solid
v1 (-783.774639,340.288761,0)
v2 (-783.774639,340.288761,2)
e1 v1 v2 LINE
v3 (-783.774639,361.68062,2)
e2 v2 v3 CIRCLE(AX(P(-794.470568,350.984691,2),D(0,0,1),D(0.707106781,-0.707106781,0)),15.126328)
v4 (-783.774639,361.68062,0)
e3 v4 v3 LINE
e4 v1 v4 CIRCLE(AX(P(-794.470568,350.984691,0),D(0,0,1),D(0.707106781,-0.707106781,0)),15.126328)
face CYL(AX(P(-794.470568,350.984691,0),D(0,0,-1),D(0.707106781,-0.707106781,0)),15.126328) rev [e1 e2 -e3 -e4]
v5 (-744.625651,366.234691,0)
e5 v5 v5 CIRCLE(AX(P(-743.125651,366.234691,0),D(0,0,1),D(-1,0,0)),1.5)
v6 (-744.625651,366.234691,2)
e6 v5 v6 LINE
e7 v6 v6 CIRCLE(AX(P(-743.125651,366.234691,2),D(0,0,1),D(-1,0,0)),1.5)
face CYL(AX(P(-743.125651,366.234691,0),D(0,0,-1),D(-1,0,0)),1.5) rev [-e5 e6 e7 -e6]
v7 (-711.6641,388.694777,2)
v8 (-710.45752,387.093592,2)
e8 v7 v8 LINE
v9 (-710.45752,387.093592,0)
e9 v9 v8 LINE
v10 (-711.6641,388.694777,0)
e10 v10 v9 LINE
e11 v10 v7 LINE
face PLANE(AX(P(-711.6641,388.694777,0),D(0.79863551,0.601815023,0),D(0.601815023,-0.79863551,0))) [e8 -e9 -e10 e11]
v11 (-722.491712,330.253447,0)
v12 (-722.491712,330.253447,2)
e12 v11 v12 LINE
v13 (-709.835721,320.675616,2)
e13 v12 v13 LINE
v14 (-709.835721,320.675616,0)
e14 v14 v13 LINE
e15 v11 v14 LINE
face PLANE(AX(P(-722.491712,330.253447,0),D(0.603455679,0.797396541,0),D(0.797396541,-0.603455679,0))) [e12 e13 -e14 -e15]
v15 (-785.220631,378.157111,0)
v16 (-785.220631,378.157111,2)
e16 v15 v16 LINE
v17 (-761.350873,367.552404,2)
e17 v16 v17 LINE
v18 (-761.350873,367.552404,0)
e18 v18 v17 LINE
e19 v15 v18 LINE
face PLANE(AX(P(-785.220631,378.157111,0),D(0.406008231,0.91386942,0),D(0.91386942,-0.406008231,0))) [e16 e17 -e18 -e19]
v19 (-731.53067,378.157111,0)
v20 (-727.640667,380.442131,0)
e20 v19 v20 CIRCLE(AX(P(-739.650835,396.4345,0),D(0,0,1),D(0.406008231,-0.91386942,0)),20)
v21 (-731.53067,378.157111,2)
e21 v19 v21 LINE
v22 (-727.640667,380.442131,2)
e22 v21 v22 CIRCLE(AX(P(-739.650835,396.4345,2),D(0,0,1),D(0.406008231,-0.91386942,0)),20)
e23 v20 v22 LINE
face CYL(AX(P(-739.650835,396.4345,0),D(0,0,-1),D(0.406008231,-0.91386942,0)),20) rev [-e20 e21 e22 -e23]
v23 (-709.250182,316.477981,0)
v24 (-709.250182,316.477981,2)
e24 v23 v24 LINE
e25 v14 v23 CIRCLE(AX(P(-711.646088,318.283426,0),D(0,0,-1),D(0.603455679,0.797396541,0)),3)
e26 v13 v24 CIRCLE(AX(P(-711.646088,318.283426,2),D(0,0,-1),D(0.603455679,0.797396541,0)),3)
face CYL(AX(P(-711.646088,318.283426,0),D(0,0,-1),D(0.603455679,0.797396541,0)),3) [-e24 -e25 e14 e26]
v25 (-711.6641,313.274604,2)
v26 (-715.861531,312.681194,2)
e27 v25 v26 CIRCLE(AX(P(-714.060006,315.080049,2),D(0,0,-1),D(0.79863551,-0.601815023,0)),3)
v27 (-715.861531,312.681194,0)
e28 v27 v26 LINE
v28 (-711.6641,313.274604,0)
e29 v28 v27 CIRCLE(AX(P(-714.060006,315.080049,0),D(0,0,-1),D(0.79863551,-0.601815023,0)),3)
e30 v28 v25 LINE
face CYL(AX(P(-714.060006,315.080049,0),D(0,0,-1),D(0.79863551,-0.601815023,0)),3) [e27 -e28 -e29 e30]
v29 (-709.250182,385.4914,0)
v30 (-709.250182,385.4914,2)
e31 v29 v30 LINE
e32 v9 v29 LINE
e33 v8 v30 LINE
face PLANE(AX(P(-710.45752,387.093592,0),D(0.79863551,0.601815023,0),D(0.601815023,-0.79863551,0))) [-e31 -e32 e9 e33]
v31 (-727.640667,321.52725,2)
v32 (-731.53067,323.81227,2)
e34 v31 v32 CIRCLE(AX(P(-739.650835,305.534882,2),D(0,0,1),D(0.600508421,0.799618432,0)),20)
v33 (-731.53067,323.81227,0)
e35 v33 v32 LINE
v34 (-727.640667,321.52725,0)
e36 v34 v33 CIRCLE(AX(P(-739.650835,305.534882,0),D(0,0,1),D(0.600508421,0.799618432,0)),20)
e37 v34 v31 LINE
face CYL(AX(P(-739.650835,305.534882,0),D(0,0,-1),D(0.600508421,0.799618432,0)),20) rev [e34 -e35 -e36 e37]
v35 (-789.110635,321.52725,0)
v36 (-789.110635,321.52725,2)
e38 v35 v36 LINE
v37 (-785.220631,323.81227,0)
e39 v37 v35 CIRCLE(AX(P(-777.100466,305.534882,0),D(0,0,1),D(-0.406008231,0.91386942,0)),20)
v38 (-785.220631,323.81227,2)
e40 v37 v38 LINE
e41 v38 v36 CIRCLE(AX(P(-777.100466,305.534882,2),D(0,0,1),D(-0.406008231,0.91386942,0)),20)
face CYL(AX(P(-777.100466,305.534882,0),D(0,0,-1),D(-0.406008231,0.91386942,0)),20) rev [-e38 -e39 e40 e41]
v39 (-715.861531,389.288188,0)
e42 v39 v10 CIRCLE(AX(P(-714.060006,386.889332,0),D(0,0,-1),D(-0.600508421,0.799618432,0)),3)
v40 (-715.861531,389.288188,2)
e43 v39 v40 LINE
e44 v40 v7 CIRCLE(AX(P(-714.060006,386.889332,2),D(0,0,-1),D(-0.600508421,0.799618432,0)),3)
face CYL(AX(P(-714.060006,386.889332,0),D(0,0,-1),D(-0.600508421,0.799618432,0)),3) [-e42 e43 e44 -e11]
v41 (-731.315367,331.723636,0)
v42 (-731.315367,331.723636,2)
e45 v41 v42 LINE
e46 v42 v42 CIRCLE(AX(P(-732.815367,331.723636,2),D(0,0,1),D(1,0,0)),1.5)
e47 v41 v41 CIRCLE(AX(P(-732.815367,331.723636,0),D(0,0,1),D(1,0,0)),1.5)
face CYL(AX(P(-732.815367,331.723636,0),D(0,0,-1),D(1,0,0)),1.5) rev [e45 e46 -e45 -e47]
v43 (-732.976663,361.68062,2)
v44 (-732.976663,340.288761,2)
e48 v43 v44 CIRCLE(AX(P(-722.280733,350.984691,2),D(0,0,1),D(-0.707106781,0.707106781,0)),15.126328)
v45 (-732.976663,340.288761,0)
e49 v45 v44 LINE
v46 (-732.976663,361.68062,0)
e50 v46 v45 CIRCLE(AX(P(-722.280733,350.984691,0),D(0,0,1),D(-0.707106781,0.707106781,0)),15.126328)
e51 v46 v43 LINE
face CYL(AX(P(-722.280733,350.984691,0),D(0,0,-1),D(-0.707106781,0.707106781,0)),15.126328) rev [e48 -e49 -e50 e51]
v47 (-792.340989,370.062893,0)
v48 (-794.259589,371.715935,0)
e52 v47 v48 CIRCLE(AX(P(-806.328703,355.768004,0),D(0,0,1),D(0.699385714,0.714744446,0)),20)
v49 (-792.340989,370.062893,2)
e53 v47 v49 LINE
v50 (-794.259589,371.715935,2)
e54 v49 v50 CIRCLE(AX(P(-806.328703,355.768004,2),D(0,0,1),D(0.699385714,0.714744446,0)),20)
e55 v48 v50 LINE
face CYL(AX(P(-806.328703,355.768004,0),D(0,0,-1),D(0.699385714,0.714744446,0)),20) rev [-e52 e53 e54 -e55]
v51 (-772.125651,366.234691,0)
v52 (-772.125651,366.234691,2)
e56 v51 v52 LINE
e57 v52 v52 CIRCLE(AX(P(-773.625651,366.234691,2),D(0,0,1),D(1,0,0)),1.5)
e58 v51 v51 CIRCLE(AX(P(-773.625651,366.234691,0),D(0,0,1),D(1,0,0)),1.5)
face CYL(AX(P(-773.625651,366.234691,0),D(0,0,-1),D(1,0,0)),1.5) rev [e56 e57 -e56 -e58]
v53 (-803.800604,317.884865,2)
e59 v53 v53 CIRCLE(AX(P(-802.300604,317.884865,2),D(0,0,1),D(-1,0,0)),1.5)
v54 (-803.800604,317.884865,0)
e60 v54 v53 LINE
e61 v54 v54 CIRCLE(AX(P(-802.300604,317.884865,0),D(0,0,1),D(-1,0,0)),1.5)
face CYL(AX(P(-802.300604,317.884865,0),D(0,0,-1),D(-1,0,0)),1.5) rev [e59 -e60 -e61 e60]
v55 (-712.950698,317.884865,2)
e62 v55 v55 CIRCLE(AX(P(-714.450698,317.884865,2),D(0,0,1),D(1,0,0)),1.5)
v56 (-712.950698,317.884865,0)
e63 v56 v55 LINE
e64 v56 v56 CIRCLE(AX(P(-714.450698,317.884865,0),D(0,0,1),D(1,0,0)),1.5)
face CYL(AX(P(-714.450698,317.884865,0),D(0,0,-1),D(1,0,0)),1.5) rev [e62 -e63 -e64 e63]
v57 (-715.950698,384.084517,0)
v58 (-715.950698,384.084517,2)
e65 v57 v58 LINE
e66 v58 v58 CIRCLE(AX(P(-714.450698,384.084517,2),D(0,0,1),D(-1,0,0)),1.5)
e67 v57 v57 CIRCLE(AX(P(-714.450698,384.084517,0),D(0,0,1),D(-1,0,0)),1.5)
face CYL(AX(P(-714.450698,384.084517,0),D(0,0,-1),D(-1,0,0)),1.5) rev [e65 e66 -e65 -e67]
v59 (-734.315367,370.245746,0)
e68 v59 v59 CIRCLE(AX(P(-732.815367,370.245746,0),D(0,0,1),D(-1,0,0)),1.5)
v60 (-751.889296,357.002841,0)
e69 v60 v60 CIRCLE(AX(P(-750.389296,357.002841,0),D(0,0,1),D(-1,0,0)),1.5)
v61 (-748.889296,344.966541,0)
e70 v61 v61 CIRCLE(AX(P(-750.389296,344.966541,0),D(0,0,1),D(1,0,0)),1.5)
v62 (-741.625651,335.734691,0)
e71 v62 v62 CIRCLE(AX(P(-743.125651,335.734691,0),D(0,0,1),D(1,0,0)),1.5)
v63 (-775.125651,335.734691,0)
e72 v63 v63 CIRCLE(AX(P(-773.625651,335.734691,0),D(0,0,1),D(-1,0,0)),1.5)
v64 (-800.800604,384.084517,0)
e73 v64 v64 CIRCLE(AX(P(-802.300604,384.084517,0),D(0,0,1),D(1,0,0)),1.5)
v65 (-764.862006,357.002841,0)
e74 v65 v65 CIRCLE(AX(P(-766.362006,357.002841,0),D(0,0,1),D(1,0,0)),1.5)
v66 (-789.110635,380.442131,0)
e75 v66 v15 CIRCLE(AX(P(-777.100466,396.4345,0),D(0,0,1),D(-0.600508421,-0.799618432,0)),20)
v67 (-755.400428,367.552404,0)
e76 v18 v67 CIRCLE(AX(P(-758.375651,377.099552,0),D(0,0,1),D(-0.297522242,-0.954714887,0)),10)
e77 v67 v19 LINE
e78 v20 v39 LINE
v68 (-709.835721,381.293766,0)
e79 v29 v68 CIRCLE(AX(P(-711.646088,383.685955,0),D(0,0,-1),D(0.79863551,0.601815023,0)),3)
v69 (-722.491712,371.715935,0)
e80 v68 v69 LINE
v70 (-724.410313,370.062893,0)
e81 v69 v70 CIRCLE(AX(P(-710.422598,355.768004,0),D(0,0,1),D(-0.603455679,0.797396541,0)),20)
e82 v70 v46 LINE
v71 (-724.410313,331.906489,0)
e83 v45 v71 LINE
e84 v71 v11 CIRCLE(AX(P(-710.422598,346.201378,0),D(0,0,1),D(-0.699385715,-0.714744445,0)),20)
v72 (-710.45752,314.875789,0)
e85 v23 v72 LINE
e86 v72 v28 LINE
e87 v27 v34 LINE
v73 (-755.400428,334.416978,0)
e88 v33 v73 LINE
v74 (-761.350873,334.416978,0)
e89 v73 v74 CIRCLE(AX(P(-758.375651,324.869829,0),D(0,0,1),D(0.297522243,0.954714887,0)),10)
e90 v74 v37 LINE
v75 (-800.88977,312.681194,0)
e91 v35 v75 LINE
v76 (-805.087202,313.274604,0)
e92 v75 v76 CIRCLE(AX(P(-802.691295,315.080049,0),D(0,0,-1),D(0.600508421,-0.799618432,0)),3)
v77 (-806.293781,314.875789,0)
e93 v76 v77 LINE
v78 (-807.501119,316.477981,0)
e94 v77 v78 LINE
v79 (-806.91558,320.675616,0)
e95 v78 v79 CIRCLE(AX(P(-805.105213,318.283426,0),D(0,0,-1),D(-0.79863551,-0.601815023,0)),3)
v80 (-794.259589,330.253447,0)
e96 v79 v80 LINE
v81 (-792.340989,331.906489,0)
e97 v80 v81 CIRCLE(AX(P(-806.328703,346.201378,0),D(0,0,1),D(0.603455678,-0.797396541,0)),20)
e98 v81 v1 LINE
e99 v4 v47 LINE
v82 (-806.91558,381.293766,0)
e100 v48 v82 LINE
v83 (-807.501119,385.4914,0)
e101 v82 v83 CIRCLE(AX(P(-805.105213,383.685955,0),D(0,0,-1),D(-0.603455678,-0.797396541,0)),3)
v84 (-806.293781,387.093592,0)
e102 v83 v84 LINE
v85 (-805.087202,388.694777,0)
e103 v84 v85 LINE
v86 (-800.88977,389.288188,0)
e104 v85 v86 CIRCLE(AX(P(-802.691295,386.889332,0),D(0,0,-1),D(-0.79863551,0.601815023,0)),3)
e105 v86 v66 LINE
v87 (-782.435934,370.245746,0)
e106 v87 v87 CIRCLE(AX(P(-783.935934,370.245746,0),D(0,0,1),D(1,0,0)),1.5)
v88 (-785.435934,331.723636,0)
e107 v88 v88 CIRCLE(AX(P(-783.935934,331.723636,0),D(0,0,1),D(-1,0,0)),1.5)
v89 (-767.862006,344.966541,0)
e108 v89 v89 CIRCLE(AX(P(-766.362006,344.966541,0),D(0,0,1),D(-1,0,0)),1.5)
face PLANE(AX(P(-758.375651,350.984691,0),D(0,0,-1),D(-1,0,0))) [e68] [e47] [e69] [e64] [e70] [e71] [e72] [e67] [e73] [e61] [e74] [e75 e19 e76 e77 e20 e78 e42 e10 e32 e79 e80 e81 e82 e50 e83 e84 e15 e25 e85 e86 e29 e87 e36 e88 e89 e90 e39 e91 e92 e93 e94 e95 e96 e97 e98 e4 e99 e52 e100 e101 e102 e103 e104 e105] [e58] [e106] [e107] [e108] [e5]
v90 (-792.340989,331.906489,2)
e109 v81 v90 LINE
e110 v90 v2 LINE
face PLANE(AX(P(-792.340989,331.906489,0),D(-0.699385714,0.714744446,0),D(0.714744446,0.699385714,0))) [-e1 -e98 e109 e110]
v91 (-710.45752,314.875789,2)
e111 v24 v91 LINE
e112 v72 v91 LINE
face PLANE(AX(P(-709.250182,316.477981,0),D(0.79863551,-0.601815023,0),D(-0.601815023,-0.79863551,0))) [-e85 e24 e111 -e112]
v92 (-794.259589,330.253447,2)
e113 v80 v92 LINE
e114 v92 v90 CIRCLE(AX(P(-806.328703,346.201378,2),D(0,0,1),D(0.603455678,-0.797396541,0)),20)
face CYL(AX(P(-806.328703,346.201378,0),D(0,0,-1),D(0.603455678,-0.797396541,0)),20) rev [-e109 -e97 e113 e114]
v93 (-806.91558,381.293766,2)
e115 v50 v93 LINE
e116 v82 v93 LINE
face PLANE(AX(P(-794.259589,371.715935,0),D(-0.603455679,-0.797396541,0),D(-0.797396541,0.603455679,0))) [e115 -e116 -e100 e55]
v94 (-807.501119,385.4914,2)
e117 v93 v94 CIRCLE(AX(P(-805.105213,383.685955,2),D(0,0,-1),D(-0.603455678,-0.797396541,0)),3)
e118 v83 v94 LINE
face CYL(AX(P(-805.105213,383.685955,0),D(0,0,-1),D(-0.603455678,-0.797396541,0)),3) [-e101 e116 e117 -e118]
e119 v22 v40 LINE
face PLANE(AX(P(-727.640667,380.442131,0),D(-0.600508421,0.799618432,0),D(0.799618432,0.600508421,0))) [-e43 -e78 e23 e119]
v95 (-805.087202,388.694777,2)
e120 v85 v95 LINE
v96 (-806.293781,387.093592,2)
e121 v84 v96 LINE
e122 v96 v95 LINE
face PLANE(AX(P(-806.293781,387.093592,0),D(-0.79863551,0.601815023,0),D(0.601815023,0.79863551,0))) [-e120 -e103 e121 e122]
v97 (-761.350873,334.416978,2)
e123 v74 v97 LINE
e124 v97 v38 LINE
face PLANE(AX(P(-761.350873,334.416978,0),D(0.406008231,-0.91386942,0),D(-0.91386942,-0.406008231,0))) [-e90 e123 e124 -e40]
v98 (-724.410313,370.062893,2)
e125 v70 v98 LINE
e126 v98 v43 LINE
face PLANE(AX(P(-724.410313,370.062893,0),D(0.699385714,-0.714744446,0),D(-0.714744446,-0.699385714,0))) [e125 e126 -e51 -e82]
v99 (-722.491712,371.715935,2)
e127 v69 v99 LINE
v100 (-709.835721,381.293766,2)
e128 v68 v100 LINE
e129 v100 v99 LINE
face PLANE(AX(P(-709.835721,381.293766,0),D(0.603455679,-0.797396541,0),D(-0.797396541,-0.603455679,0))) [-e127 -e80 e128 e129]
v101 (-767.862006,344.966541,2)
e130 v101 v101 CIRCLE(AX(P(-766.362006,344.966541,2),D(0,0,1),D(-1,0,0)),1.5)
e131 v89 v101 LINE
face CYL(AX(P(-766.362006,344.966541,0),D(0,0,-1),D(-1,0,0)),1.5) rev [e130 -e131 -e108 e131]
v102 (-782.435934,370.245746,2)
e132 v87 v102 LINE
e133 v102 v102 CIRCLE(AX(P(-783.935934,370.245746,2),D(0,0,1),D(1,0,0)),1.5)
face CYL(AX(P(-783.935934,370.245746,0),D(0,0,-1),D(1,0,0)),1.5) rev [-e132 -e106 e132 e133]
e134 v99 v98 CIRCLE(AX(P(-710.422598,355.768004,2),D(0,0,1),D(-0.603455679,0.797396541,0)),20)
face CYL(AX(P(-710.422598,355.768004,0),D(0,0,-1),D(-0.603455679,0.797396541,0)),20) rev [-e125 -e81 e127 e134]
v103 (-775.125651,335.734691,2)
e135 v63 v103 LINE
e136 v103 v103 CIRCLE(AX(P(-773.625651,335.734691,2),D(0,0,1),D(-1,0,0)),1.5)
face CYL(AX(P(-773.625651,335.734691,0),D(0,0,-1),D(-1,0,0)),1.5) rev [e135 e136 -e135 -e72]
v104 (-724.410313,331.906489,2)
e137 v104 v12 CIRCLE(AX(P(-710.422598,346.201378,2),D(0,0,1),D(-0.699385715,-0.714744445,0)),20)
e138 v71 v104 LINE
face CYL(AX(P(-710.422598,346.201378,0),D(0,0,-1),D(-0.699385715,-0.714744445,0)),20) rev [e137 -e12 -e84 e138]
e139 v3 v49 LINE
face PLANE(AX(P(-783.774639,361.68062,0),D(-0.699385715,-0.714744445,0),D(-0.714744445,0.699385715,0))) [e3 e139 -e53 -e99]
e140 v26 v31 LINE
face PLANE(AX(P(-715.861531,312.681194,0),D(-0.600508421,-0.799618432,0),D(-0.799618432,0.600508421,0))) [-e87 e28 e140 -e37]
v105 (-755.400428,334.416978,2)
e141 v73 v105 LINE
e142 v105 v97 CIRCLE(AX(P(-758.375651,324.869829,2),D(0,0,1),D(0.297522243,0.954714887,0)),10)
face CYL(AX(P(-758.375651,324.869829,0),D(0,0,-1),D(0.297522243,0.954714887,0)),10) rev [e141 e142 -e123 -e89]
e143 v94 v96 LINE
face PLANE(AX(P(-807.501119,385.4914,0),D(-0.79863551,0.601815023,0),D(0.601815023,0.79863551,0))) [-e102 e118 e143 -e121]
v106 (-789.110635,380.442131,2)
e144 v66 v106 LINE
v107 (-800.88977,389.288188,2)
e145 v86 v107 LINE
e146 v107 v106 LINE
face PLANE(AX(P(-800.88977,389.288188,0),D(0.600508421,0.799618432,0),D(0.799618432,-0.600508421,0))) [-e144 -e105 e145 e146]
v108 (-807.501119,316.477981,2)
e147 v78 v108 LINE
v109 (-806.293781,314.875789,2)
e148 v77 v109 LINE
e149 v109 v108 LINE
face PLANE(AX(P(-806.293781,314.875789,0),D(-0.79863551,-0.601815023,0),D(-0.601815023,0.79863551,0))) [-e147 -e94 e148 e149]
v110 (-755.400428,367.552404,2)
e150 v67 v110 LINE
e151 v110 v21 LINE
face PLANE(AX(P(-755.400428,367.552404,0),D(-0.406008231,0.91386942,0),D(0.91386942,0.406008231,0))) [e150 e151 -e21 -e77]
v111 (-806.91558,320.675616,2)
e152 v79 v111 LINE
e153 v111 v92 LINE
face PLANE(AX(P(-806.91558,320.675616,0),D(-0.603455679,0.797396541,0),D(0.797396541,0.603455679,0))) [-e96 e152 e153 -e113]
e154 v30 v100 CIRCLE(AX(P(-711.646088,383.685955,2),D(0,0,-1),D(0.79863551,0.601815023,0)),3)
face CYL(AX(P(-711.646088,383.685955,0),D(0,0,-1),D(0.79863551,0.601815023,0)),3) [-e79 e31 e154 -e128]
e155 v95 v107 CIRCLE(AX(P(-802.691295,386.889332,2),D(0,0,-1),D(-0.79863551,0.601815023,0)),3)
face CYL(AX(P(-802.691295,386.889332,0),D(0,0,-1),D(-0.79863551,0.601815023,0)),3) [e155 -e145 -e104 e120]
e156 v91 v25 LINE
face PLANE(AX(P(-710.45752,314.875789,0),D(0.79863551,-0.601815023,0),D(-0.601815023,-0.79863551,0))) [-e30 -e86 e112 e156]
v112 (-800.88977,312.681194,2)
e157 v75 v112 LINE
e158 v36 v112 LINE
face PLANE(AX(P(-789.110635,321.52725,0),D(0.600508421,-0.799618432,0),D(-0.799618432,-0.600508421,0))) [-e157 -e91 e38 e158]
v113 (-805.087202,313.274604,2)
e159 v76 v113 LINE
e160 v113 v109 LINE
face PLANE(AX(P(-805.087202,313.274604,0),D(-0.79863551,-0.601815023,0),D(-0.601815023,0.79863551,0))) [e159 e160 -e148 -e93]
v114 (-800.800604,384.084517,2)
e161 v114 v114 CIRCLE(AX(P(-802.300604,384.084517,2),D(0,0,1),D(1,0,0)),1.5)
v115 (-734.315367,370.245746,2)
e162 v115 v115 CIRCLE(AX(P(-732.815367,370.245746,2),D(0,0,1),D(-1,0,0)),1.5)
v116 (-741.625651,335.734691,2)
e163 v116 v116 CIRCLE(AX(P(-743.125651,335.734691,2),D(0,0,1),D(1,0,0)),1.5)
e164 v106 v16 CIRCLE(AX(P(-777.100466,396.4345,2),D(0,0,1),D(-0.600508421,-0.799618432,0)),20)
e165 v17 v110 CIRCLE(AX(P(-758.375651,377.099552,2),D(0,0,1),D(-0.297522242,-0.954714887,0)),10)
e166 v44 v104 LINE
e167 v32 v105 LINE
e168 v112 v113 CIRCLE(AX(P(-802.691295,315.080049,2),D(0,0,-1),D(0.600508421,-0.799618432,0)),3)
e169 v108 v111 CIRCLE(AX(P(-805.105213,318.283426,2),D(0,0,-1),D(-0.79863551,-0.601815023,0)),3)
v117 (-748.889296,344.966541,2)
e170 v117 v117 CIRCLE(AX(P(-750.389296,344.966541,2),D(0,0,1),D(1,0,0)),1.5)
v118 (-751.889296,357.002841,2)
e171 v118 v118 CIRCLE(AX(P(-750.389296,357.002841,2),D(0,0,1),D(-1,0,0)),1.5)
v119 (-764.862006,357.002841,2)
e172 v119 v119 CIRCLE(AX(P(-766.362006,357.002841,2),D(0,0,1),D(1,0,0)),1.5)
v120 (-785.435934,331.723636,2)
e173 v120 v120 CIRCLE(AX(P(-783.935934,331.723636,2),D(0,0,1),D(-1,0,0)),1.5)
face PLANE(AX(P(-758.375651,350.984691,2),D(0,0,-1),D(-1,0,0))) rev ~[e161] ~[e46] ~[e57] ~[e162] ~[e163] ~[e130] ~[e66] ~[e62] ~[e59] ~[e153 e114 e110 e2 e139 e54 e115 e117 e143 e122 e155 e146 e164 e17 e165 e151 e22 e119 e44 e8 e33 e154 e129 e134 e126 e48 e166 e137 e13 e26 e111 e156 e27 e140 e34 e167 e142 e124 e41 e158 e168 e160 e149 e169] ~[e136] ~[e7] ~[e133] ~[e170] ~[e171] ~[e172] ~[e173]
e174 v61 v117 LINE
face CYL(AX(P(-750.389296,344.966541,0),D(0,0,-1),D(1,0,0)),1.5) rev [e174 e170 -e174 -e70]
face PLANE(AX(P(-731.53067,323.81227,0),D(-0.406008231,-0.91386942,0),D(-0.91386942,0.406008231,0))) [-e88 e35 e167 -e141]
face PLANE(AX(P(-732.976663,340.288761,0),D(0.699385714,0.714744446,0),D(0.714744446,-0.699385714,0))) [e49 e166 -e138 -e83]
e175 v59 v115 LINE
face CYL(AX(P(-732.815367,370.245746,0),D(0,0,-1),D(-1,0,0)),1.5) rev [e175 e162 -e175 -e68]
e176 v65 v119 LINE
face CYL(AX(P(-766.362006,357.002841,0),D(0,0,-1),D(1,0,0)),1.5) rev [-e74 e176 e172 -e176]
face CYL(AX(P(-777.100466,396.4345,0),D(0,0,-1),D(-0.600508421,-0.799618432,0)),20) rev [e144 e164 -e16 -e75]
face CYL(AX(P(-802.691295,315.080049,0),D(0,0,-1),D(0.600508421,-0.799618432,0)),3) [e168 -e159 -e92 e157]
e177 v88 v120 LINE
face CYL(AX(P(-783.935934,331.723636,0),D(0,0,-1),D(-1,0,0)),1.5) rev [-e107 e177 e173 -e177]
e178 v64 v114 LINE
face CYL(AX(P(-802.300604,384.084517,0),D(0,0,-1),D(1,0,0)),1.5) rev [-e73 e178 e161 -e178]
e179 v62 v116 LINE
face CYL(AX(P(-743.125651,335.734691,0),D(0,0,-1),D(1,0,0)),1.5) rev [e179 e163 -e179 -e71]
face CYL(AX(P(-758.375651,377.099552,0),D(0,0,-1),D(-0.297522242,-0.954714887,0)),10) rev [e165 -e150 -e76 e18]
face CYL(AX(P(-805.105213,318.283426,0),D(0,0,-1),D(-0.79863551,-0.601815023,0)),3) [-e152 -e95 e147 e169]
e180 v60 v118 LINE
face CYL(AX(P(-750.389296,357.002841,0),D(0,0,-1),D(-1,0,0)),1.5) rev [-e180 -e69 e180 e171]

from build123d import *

# Parameters (mm, degrees)
CROQUIS1_R              = 1.5
SALIENTE_EXTRUIR1_DEPTH = 2


with BuildPart() as part:
    # Croquis1 → Saliente-Extruir1 (new body)
    with BuildSketch(Plane.XY):
        with BuildLine():
            Line((-806.293781222, 387.093592203), (-805.087201617, 388.694777419))
            ThreePointArc((-805.087201617, 388.694777419), (-803.111242937, 389.859794234), (-800.889769824, 389.288187645))
            Line((-800.889769824, 389.288187645), (-789.110634699, 380.442131133))
            ThreePointArc((-789.110634699, 380.442131133), (-787.230269134, 379.189584745), (-785.220630898, 378.157111371))
            Line((-785.220630898, 378.157111371), (-761.350873045, 367.552403578))
            ThreePointArc((-761.350873045, 367.552403578), (-758.375650619, 367.099552447), (-755.400428194, 367.552403578))
            Line((-755.400428194, 367.552403578), (-731.530670341, 378.157111371))
            ThreePointArc((-731.530670341, 378.157111371), (-729.521032104, 379.189584745), (-727.640666539, 380.442131133))
            Line((-727.640666539, 380.442131133), (-715.861531414, 389.288187645))
            ThreePointArc((-715.861531414, 389.288187645), (-713.640058301, 389.859794234), (-711.664099621, 388.694777419))
            Line((-711.664099621, 388.694777419), (-710.457520016, 387.093592203))
            Line((-710.457520016, 387.093592203), (-709.250181935, 385.491400454))
            ThreePointArc((-709.250181935, 385.491400454), (-708.674856636, 383.271490166), (-709.835721429, 381.293765761))
            Line((-709.835721429, 381.293765761), (-722.491711895, 371.715934755))
            ThreePointArc((-722.491711895, 371.715934755), (-723.477203121, 370.919812191), (-724.410312611, 370.062892842))
            Line((-724.410312611, 370.062892842), (-732.976662667, 361.68062014))
            ThreePointArc((-732.976662667, 361.68062014), (-737.407061656, 350.984690814), (-732.976662667, 340.288761488))
            Line((-732.976662667, 340.288761488), (-724.410312611, 331.906488787))
            ThreePointArc((-724.410312611, 331.906488787), (-723.477203121, 331.049569437), (-722.491711895, 330.253446873))
            Line((-722.491711895, 330.253446873), (-709.835721429, 320.675615867))
            ThreePointArc((-709.835721429, 320.675615867), (-708.674856636, 318.697891463), (-709.250181935, 316.477981174))
            Line((-709.250181935, 316.477981174), (-710.457520016, 314.875789425))
            Line((-710.457520016, 314.875789425), (-711.664099621, 313.274604209))
            ThreePointArc((-711.664099621, 313.274604209), (-713.640058301, 312.109587395), (-715.861531414, 312.681193984))
            Line((-715.861531414, 312.681193984), (-727.640666539, 321.527250495))
            ThreePointArc((-727.640666539, 321.527250495), (-729.521032104, 322.779796883), (-731.530670341, 323.812270257))
            Line((-731.530670341, 323.812270257), (-755.400428194, 334.41697805))
            ThreePointArc((-755.400428194, 334.41697805), (-758.375650619, 334.869829182), (-761.350873045, 334.41697805))
            Line((-761.350873045, 334.41697805), (-785.220630898, 323.812270257))
            ThreePointArc((-785.220630898, 323.812270257), (-787.230269134, 322.779796883), (-789.110634699, 321.527250495))
            Line((-789.110634699, 321.527250495), (-800.889769824, 312.681193984))
            ThreePointArc((-800.889769824, 312.681193984), (-803.111242937, 312.109587395), (-805.087201617, 313.274604209))
            Line((-805.087201617, 313.274604209), (-806.293781222, 314.875789425))
            Line((-806.293781222, 314.875789425), (-807.501119304, 316.477981174))
            ThreePointArc((-807.501119304, 316.477981174), (-808.076444603, 318.697891463), (-806.915579809, 320.675615867))
            Line((-806.915579809, 320.675615867), (-794.259589343, 330.253446873))
            ThreePointArc((-794.259589343, 330.253446873), (-793.274098117, 331.049569437), (-792.340988627, 331.906488787))
            Line((-792.340988627, 331.906488787), (-783.774638572, 340.288761488))
            ThreePointArc((-783.774638572, 340.288761488), (-779.344239583, 350.984690814), (-783.774638572, 361.68062014))
            Line((-783.774638572, 361.68062014), (-792.340988627, 370.062892842))
            ThreePointArc((-792.340988627, 370.062892842), (-793.274098117, 370.919812191), (-794.259589343, 371.715934755))
            Line((-794.259589343, 371.715934755), (-806.915579809, 381.293765761))
            ThreePointArc((-806.915579809, 381.293765761), (-808.076444603, 383.271490166), (-807.501119304, 385.491400454))
            Line((-807.501119304, 385.491400454), (-806.293781222, 387.093592203))
        make_face()
        with Locations((-802.300603672, 384.084517088)):
            Circle(CROQUIS1_R, mode=Mode.SUBTRACT)
        with Locations((-783.935934024, 370.245745896)):
            Circle(CROQUIS1_R, mode=Mode.SUBTRACT)
        with Locations((-766.36200572, 357.002841046)):
            Circle(CROQUIS1_R, mode=Mode.SUBTRACT)
        with Locations((-773.625650619, 366.234690814)):
            Circle(CROQUIS1_R, mode=Mode.SUBTRACT)
        with Locations(Location((-750.389295519, 357.002841046, 0), (0, 0, 180))):
            Circle(CROQUIS1_R, mode=Mode.SUBTRACT)
        with Locations(Location((-743.125650619, 366.234690814, 0), (0, 0, 180))):
            Circle(CROQUIS1_R, mode=Mode.SUBTRACT)
        with Locations(Location((-732.815367214, 370.245745896, 0), (0, 0, 180))):
            Circle(CROQUIS1_R, mode=Mode.SUBTRACT)
        with Locations(Location((-714.450697566, 384.084517088, 0), (0, 0, 180))):
            Circle(CROQUIS1_R, mode=Mode.SUBTRACT)
        with Locations((-714.450697566, 317.884864541)):
            Circle(CROQUIS1_R, mode=Mode.SUBTRACT)
        with Locations((-732.815367214, 331.723635733)):
            Circle(CROQUIS1_R, mode=Mode.SUBTRACT)
        with Locations((-743.125650619, 335.734690814)):
            Circle(CROQUIS1_R, mode=Mode.SUBTRACT)
        with Locations((-750.389295519, 344.966540583)):
            Circle(CROQUIS1_R, mode=Mode.SUBTRACT)
        with Locations(Location((-766.36200572, 344.966540583, 0), (0, 0, 180))):
            Circle(CROQUIS1_R, mode=Mode.SUBTRACT)
        with Locations(Location((-773.625650619, 335.734690814, 0), (0, 0, 180))):
            Circle(CROQUIS1_R, mode=Mode.SUBTRACT)
        with Locations(Location((-783.935934024, 331.723635733, 0), (0, 0, 180))):
            Circle(CROQUIS1_R, mode=Mode.SUBTRACT)
        with Locations(Location((-802.300603672, 317.884864541, 0), (0, 0, 180))):
            Circle(CROQUIS1_R, mode=Mode.SUBTRACT)
    extrude(amount=SALIENTE_EXTRUIR1_DEPTH)


solid = part.part
